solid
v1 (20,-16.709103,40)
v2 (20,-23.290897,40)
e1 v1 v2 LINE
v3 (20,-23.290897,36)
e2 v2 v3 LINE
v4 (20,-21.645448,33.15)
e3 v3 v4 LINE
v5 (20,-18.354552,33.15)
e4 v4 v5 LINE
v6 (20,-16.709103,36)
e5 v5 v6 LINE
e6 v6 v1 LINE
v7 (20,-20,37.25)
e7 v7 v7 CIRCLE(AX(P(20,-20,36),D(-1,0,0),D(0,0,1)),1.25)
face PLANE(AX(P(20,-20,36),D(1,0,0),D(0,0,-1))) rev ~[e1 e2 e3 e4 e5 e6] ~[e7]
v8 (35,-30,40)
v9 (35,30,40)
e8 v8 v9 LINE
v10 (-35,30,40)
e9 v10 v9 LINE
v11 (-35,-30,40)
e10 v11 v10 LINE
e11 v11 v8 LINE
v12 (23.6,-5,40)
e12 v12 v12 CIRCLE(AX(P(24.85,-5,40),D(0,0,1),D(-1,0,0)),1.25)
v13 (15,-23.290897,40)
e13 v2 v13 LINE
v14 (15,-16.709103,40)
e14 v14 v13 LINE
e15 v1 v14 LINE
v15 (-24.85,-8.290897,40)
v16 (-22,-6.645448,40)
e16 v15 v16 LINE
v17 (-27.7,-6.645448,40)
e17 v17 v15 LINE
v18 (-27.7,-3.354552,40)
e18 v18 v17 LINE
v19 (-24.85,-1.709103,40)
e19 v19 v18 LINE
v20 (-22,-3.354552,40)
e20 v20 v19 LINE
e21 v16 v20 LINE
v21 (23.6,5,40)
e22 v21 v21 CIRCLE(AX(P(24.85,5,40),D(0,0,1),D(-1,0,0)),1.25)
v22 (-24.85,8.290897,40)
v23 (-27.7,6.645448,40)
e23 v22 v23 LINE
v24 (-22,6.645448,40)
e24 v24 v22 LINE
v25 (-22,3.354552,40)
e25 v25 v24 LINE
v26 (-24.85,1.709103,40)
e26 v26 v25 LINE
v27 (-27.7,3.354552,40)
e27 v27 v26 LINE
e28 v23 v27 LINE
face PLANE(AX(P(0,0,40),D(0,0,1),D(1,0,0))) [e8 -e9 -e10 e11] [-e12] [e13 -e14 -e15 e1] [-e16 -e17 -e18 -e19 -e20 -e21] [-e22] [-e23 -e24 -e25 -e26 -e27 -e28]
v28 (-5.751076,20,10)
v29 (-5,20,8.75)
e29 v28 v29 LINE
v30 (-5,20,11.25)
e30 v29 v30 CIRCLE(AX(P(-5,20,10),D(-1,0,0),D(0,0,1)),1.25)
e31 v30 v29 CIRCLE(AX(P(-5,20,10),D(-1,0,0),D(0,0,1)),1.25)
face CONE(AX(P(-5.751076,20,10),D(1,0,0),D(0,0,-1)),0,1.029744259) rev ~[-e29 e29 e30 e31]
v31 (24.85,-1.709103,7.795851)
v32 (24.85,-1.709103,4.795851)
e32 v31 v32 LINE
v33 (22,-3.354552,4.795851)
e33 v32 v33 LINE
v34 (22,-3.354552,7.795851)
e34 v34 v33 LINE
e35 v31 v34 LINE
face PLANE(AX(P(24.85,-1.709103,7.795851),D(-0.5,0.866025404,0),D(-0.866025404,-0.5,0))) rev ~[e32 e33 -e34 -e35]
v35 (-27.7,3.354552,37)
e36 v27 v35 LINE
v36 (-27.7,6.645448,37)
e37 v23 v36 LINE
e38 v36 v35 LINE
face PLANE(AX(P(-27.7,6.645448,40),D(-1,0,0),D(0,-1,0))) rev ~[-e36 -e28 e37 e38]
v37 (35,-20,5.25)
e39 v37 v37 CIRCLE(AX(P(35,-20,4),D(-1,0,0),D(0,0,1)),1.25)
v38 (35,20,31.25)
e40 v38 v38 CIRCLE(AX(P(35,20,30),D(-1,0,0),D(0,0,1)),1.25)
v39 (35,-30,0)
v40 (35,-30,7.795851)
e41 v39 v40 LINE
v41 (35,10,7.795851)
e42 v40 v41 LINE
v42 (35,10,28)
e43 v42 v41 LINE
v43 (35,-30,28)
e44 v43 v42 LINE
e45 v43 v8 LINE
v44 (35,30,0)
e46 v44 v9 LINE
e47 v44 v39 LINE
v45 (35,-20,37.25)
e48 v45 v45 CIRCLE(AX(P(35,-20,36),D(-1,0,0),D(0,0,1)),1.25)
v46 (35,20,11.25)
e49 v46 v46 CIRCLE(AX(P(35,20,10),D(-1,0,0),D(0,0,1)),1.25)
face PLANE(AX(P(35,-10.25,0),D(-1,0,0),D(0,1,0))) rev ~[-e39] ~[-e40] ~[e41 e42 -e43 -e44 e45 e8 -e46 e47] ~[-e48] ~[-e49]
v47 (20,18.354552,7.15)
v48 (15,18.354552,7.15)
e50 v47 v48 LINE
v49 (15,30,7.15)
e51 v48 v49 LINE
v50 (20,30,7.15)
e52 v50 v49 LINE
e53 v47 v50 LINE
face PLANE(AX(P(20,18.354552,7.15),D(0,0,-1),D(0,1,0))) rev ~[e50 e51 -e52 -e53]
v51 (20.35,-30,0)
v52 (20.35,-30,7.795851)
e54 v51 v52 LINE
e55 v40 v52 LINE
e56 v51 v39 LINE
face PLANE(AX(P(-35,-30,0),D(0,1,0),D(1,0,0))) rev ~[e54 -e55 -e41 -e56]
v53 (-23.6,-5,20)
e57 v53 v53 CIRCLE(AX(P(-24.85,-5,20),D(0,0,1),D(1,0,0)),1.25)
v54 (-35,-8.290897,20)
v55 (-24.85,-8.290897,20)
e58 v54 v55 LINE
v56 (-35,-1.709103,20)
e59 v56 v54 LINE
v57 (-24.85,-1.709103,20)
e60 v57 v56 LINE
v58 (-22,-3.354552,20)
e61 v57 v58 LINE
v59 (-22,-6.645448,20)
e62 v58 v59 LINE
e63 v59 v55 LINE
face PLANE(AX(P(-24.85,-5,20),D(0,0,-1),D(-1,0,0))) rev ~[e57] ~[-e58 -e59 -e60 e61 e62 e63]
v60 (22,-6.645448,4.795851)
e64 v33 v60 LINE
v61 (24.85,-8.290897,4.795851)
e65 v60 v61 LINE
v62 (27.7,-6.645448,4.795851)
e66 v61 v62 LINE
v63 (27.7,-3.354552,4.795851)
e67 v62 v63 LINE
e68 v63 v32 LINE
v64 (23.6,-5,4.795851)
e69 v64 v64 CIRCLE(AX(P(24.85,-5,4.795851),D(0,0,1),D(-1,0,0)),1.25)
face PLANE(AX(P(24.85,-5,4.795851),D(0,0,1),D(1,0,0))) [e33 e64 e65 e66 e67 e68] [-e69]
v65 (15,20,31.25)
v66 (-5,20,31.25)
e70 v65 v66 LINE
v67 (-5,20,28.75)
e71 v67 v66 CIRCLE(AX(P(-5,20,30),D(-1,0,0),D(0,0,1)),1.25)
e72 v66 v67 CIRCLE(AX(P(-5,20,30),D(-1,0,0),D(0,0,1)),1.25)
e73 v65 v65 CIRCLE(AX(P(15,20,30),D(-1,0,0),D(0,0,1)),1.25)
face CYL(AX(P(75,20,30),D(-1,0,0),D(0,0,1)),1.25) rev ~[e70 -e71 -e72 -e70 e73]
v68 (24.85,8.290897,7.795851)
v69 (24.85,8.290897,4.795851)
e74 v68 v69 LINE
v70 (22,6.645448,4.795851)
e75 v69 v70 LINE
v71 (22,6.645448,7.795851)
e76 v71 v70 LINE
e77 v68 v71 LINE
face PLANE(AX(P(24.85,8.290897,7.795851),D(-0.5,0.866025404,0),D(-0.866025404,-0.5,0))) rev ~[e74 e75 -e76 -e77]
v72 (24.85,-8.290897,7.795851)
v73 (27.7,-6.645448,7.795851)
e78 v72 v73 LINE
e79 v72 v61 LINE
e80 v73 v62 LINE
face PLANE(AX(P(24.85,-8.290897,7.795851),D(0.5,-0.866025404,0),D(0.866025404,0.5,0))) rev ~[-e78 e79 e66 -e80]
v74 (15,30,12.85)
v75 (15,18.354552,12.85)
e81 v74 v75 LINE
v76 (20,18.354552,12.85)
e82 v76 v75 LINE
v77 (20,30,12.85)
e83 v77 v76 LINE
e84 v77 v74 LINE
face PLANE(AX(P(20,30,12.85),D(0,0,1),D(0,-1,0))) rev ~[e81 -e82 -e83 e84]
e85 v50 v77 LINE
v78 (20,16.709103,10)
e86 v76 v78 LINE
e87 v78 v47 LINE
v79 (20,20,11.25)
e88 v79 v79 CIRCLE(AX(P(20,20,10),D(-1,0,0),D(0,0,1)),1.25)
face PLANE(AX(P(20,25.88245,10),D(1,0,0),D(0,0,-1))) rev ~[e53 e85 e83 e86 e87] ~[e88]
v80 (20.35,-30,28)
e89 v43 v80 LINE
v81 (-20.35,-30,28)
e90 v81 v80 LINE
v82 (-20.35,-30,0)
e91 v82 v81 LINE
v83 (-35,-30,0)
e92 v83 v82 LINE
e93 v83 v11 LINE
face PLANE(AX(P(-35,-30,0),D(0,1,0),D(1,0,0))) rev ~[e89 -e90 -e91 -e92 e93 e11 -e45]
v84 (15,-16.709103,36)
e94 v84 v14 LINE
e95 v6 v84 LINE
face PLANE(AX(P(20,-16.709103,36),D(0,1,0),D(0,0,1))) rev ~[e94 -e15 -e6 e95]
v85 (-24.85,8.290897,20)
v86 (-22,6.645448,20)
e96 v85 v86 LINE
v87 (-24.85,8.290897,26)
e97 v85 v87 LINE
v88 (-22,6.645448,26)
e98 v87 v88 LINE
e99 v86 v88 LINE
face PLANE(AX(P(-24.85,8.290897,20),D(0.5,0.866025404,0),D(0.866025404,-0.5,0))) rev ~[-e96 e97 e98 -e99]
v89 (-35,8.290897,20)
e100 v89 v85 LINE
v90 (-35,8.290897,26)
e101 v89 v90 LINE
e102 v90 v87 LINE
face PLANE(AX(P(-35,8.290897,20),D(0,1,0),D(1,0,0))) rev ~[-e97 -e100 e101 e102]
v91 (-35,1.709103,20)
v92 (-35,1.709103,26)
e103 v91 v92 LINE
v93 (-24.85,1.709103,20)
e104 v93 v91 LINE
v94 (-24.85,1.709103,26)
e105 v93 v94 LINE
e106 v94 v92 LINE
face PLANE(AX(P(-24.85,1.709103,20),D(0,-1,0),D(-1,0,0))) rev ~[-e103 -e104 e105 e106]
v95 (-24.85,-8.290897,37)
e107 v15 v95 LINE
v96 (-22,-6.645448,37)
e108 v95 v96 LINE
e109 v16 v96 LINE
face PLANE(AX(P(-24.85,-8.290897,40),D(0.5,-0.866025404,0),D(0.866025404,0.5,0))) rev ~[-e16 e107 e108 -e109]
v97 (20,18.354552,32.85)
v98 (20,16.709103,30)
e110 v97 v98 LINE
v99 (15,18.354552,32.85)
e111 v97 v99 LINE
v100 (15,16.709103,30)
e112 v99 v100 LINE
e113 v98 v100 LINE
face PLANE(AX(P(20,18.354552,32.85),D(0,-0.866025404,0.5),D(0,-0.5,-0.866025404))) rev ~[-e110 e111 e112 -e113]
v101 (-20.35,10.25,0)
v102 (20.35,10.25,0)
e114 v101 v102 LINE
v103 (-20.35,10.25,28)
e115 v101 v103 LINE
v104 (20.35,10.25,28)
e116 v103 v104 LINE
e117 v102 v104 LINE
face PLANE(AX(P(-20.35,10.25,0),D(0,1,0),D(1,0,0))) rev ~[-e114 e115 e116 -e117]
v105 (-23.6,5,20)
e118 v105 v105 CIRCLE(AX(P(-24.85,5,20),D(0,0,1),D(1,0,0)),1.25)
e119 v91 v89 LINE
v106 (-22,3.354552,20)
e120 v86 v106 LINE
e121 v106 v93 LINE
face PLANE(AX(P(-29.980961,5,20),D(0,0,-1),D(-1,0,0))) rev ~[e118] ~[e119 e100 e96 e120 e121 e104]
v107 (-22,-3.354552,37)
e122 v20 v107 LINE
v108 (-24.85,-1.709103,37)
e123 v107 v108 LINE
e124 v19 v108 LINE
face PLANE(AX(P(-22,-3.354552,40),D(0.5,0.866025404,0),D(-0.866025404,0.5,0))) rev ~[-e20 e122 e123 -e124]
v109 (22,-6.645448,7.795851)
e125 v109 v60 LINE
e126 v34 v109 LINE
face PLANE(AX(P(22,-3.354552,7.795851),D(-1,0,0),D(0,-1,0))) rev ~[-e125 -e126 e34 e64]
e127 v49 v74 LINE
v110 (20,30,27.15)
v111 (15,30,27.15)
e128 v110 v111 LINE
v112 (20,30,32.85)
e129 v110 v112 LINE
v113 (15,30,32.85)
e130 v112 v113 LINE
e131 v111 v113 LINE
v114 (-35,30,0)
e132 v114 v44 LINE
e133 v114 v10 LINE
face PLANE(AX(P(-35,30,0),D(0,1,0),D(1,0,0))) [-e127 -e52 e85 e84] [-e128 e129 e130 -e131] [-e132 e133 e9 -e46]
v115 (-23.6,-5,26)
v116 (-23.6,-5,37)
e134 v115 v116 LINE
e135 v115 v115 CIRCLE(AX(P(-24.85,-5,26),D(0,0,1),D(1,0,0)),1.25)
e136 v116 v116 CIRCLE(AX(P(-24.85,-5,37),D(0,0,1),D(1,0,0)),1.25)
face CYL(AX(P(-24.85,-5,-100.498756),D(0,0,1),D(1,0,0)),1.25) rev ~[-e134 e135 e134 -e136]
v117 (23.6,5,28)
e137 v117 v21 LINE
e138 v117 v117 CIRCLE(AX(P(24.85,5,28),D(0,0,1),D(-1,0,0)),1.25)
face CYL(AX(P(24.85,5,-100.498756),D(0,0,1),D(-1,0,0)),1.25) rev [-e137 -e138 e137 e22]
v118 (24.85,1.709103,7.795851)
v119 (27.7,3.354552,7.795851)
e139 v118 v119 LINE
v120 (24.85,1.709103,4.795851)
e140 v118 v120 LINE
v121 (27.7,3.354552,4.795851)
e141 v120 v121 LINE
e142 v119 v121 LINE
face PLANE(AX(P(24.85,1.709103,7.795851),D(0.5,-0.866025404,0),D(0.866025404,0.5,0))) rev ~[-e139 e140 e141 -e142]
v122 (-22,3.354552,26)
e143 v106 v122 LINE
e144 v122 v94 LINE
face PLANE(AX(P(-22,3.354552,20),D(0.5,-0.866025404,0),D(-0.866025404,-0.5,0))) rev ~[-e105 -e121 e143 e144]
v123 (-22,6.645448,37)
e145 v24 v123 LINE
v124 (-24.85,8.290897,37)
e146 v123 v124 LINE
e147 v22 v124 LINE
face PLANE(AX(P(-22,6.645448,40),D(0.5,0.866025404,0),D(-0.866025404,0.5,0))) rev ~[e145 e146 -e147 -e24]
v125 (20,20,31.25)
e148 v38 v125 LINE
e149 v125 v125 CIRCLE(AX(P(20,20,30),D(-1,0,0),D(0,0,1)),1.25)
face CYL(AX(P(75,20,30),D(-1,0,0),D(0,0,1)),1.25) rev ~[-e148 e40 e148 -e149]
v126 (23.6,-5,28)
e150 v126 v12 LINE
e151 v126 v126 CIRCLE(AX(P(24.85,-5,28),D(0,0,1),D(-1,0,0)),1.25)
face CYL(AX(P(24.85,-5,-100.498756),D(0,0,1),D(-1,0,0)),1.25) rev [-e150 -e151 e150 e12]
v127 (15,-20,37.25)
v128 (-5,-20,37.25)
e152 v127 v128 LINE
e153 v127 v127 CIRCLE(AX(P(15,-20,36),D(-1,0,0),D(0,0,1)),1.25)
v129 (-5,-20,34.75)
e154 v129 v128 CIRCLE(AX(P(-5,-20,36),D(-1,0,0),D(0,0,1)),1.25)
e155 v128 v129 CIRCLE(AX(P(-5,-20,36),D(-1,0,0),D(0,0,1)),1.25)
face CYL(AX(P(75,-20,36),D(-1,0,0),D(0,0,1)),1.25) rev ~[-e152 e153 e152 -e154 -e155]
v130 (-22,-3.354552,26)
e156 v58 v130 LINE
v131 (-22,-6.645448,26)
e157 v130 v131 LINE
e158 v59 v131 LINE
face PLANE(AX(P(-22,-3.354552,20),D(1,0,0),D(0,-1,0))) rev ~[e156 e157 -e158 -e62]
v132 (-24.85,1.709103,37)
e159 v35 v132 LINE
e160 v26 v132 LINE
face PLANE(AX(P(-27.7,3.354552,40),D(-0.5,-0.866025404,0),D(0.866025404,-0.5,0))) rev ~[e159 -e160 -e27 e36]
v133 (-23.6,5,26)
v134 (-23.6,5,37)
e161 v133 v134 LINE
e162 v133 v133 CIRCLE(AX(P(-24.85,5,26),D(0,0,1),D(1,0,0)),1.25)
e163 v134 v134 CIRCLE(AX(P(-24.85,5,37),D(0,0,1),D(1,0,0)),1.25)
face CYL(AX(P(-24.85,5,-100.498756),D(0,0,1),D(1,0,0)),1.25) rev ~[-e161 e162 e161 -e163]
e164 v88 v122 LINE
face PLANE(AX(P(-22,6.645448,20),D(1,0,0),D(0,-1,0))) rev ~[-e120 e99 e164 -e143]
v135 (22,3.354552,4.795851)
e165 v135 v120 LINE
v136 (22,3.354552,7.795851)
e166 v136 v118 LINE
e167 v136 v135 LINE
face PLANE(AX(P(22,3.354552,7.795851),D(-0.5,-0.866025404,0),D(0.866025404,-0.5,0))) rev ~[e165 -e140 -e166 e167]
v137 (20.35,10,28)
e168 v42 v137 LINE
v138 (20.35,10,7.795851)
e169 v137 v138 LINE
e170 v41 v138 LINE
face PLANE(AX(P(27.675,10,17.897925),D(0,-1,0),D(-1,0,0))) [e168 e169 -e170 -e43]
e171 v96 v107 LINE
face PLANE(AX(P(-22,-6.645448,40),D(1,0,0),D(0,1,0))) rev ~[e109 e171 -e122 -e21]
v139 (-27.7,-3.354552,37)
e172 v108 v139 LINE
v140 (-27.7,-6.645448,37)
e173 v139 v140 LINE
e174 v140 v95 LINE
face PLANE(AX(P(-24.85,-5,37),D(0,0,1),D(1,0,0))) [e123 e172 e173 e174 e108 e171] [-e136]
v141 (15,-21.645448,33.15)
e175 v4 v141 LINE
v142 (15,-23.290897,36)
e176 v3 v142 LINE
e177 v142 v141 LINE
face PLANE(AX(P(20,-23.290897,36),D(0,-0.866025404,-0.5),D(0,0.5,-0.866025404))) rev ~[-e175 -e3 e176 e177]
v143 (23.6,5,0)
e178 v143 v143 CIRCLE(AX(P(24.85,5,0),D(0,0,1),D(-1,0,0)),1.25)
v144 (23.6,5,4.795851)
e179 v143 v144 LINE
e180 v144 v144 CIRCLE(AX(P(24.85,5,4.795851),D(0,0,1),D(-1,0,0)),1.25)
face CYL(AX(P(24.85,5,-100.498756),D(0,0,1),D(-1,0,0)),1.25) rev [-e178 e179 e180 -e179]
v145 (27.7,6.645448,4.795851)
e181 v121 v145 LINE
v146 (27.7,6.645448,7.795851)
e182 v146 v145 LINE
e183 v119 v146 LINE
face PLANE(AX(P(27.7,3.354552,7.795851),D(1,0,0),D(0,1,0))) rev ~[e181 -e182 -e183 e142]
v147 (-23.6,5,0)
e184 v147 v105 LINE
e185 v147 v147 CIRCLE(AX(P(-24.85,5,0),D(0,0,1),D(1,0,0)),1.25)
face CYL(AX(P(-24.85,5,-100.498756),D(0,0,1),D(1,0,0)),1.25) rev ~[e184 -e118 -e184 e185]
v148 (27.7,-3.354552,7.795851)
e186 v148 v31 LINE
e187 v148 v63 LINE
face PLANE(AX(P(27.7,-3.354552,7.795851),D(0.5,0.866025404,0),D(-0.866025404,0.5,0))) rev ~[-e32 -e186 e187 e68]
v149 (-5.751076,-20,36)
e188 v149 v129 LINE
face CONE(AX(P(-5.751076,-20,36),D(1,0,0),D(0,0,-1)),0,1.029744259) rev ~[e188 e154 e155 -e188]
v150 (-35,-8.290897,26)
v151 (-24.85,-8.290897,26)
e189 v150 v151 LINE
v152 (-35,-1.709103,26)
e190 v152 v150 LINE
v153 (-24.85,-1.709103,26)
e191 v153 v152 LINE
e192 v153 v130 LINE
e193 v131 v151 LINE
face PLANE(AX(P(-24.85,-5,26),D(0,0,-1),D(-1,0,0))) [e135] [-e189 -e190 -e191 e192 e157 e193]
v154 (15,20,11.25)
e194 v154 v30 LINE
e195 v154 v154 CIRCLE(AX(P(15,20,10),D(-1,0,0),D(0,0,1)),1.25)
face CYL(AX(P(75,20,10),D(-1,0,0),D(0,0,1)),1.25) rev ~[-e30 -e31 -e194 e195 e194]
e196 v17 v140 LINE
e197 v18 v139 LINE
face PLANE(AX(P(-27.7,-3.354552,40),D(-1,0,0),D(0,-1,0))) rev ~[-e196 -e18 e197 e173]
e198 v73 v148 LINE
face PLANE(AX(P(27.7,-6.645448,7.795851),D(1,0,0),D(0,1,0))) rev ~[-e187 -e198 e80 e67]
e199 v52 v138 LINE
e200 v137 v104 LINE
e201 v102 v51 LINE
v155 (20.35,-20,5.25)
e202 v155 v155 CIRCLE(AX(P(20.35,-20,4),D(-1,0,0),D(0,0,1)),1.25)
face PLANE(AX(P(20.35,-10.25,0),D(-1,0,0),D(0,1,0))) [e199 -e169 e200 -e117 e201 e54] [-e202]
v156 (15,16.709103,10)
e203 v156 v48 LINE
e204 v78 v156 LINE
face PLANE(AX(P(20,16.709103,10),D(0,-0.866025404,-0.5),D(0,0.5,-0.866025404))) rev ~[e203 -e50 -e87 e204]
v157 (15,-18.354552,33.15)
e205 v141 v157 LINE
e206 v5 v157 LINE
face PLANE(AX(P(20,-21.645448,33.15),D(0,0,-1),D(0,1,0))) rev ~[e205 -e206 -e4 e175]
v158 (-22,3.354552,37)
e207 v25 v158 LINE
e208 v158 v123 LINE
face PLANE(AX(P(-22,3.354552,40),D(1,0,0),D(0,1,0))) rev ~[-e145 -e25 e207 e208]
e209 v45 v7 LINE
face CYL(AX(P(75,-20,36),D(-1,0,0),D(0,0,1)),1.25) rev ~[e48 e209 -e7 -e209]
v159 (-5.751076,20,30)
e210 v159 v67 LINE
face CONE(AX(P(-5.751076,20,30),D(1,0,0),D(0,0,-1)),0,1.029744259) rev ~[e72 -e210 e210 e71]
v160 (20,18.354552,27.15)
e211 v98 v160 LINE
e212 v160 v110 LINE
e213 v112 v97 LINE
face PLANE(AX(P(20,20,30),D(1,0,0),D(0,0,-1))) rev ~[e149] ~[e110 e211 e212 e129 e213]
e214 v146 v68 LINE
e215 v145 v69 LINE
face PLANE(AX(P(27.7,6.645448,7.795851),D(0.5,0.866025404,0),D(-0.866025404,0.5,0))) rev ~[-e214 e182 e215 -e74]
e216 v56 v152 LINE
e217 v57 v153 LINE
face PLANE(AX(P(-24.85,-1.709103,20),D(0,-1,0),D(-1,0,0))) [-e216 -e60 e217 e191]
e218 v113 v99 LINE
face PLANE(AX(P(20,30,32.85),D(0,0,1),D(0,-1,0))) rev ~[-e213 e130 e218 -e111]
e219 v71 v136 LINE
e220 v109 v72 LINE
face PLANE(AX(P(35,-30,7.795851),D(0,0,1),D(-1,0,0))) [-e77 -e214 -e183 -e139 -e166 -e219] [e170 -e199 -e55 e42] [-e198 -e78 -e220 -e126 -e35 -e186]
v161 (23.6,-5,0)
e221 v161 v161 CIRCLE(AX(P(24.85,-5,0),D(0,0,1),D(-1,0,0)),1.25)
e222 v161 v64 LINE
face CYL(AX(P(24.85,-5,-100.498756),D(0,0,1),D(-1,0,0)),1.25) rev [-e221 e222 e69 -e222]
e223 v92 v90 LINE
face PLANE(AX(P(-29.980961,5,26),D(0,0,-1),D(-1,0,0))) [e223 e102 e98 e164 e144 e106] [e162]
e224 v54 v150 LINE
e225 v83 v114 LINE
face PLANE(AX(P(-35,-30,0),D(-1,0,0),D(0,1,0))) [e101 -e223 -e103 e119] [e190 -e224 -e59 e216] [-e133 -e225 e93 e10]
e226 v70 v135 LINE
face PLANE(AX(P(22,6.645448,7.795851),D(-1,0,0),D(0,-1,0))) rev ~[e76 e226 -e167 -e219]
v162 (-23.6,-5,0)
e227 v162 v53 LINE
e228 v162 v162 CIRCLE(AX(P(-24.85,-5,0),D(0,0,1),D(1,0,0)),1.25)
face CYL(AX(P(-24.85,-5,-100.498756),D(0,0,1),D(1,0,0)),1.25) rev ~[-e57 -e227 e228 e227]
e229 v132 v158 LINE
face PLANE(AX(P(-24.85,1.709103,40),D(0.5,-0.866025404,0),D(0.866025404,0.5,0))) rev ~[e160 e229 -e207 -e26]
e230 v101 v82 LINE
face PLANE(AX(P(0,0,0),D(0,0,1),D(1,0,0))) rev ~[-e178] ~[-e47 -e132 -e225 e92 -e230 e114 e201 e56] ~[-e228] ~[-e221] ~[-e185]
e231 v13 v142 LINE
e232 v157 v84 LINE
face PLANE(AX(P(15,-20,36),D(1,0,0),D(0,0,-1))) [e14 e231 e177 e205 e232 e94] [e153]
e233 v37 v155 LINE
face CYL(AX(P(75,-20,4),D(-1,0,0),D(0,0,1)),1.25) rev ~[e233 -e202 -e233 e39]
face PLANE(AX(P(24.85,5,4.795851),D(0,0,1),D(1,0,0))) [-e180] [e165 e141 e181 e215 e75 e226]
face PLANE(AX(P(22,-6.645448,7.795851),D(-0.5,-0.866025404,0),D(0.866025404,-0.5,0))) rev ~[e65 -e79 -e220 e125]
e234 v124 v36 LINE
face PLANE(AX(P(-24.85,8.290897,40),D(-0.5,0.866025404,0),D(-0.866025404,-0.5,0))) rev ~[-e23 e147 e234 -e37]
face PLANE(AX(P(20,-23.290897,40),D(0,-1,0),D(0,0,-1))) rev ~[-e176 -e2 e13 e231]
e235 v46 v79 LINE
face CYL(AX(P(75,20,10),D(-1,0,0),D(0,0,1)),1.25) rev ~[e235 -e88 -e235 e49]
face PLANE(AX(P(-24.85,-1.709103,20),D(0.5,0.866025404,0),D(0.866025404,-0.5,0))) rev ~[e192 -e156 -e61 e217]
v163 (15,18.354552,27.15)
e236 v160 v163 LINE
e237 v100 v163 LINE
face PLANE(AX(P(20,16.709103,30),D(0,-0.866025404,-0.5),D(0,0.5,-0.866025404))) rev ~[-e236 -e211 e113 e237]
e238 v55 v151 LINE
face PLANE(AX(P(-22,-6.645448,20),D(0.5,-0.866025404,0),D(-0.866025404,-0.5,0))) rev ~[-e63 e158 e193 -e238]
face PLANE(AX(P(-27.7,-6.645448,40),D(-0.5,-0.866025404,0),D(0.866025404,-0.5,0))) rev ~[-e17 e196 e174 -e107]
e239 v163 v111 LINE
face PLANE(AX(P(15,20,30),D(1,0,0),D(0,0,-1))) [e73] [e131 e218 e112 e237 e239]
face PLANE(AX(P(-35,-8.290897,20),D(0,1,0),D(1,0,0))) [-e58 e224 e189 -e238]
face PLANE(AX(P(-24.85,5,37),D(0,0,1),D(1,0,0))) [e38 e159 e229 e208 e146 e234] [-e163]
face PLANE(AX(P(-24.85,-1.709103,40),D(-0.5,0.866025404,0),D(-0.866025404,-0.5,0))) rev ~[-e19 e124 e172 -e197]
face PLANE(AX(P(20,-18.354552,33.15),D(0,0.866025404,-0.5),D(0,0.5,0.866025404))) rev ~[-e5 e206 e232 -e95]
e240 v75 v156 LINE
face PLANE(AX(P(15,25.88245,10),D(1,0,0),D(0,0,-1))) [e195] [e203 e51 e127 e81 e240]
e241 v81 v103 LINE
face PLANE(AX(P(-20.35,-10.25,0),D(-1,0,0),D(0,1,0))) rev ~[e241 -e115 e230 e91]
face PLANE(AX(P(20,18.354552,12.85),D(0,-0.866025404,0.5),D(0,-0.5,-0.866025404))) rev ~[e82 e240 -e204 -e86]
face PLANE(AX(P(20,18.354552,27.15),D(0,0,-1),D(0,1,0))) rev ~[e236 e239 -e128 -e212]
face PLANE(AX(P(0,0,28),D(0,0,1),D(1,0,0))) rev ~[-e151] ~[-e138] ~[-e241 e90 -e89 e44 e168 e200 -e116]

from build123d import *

# Parameters (mm, degrees)
SKETCH_2_W           = 70
SKETCH_2_H           = 60
EXTRUDE_2_DEPTH      = 40
SKETCH_3_W           = 40.7
SKETCH_3_H           = 20.5
CUT_EXTRUDE_1_DEPTH  = 28
SKETCH_4_W           = 14.65
SKETCH_4_H           = 20.5
EXTRUDE_3_DEPTH      = 28
SKETCH_15_W          = 40.7
SKETCH_15_H          = 40.25
CUT_EXTRUDE_6_DEPTH  = 28
SKETCH_16_W          = 14.65
SKETCH_16_H          = 20.204149113
CUT_EXTRUDE_7_DEPTH  = 40
M3X0_5_2_D           = 2.5
CUT_EXTRUDE_8_DEPTH  = 3
CUT_EXTRUDE_9_DEPTH  = 3
CUT_EXTRUDE_10_DEPTH = 6
M3X0_5_3_D           = 2.5
M3X0_5_3_DEPTH       = 40
M3X0_5_3_TIP         = 0.751075774
CUT_EXTRUDE_12_DEPTH = 5


with BuildPart() as part:
    # ｽｹｯﾁ2 → ﾎﾞｽ - 押し出し2 (new body)
    with BuildSketch(Plane.XY):
        Rectangle(SKETCH_2_W, SKETCH_2_H)
    extrude(amount=EXTRUDE_2_DEPTH)

    # ｽｹｯﾁ3 → ｶｯﾄ - 押し出し1 (cut)
    with BuildSketch(Plane.XY):
        Rectangle(SKETCH_3_W, SKETCH_3_H)
    extrude(amount=CUT_EXTRUDE_1_DEPTH, mode=Mode.SUBTRACT)

    # ｽｹｯﾁ4 → ﾎﾞｽ - 押し出し3 (add)
    with BuildSketch(Plane.XY):
        with Locations((27.675, 0)):
            Rectangle(SKETCH_4_W, SKETCH_4_H)
    extrude(amount=EXTRUDE_3_DEPTH)

    # ｽｹｯﾁ15 → ｶｯﾄ - 押し出し6 (cut)
    with BuildSketch(Plane.XY):
        with Locations((0, -9.875)):
            Rectangle(SKETCH_15_W, SKETCH_15_H)
    extrude(amount=CUT_EXTRUDE_6_DEPTH, mode=Mode.SUBTRACT)

    # ｽｹｯﾁ16 → ｶｯﾄ - 押し出し7 (cut)
    with BuildSketch(Plane(origin=(0, -30, 0), x_dir=(-1, 0, 0), z_dir=(0, -1, 0))):
        with Locations((-27.675, -17.897925444)):
            Rectangle(SKETCH_16_W, SKETCH_16_H)
    extrude(amount=-CUT_EXTRUDE_7_DEPTH, mode=Mode.SUBTRACT)

    # M3x0.5 ねじ穴2 (through all)
    with Locations(Plane(origin=(0, 0, 0), x_dir=(-1, 0, 0), z_dir=(0, 0, -1))):
        with Locations((24.85, 5), (24.85, -5)):
            m3x0_5_2 = Hole(M3X0_5_2_D / 2)

    # ﾐﾗｰ1: M3x0.5 ねじ穴2 across plane
    add(m3x0_5_2.mirror(Plane(origin=(0, 0, 0), x_dir=(0, 0, 1), z_dir=(1, 0, 0))), mode=Mode.SUBTRACT)

    # ｽｹｯﾁ17 → ｶｯﾄ - 押し出し8 (cut)
    with BuildSketch(Plane.XY.offset(40)):
        Polygon((-24.85, 8.290896534), (-27.7, 6.645448267), (-27.7, 3.354551733), (-24.85, 1.709103466), (-22, 3.354551733), (-22, 6.645448267), align=None)
        Polygon((-22, -6.645448267), (-22, -3.354551733), (-24.85, -1.709103466), (-27.7, -3.354551733), (-27.7, -6.645448267), (-24.85, -8.290896534), align=None)
    extrude(amount=-CUT_EXTRUDE_8_DEPTH, mode=Mode.SUBTRACT)

    # ｽｹｯﾁ18 → ｶｯﾄ - 押し出し9 (cut)
    with BuildSketch(Plane.XY.offset(7.795850887)):
        Polygon((27.7, 3.354551733), (27.7, 6.645448267), (24.85, 8.290896534), (22, 6.645448267), (22, 3.354551733), (24.85, 1.709103466), align=None)
        Polygon((27.7, -6.645448267), (27.7, -3.354551733), (24.85, -1.709103466), (22, -3.354551733), (22, -6.645448267), (24.85, -8.290896534), align=None)
    extrude(amount=-CUT_EXTRUDE_9_DEPTH, mode=Mode.SUBTRACT)

    # ｽｹｯﾁ19 → ｶｯﾄ - 押し出し10 (cut)
    with BuildSketch(Plane(origin=(0, 0, 20), x_dir=(-1, 0, 0), z_dir=(0, 0, -1))):
        Polygon((35, 1.709103466), (35, 8.290896534), (24.85, 8.290896534), (27.7, 6.645448267), (27.7, 3.354551733), (24.85, 1.709103466), align=None)
        Polygon((22, 6.645448267), (22, 3.354551733), (24.85, 1.709103466), (27.7, 3.354551733), (27.7, 6.645448267), (24.85, 8.290896534), align=None)
        Polygon((22, -6.645448267), (24.85, -8.290896534), (27.7, -6.645448267), (27.7, -3.354551733), (24.85, -1.709103466), (22, -3.354551733), align=None)
        Polygon((35, -8.290896534), (24.85, -8.290896534), (27.7, -6.645448267), (27.7, -3.354551733), (24.85, -1.709103466), (35, -1.709103466), align=None)
    extrude(amount=-CUT_EXTRUDE_10_DEPTH, mode=Mode.SUBTRACT)

    # M3x0.5 ねじ穴3
    with Locations(Plane(origin=(35, 0, 0), x_dir=(0, 0, -1), z_dir=(1, 0, 0))):
        with Locations((-4, -20), (-36, -20), (-10, 20), (-30, 20)):
            Hole(M3X0_5_3_D / 2, depth=M3X0_5_3_DEPTH)
            with Locations((0, 0, -(M3X0_5_3_DEPTH + M3X0_5_3_TIP / 2))):  # 118° drill point
                Cone(0, M3X0_5_3_D / 2, M3X0_5_3_TIP, mode=Mode.SUBTRACT)

    # ｽｹｯﾁ24 → ｶｯﾄ - 押し出し12 (cut)
    with BuildSketch(Plane(origin=(20, 0, 0), x_dir=(0, 0, -1), z_dir=(1, 0, 0))):
        Polygon((-38.85, -18.354551733), (-38.85, -21.645448267), (-36, -23.290896534), (-33.15, -21.645448267), (-33.15, -18.354551733), (-36, -16.709103466), align=None)
        Polygon((-40, -16.709103466), (-40, -23.290896534), (-36, -23.290896534), (-38.85, -21.645448267), (-38.85, -18.354551733), (-36, -16.709103466), align=None)
        Polygon((-6.85, -18.354551733), (-6.85, -21.645448267), (-4, -23.290896534), (-1.15, -21.645448267), (-1.15, -18.354551733), (-4, -16.709103466), align=None)
        Polygon((-10, 23.290896534), (-7.15, 21.645448267), (-7.15, 30), (-12.85, 30), (-12.85, 21.645448267), align=None)
        Polygon((-12.85, 21.645448267), (-12.85, 18.354551733), (-10, 16.709103466), (-7.15, 18.354551733), (-7.15, 21.645448267), (-10, 23.290896534), align=None)
        Polygon((-32.85, 21.645448267), (-32.85, 18.354551733), (-30, 16.709103466), (-27.15, 18.354551733), (-27.15, 21.645448267), (-30, 23.290896534), align=None)
        Polygon((-30, 23.290896534), (-27.15, 21.645448267), (-27.15, 30), (-32.85, 30), (-32.85, 21.645448267), align=None)
        Polygon((0, -23.290896534), (0, -16.709103466), (-4, -16.709103466), (-1.15, -18.354551733), (-1.15, -21.645448267), (-4, -23.290896534), align=None)
    extrude(amount=-CUT_EXTRUDE_12_DEPTH, mode=Mode.SUBTRACT)


solid = part.part
